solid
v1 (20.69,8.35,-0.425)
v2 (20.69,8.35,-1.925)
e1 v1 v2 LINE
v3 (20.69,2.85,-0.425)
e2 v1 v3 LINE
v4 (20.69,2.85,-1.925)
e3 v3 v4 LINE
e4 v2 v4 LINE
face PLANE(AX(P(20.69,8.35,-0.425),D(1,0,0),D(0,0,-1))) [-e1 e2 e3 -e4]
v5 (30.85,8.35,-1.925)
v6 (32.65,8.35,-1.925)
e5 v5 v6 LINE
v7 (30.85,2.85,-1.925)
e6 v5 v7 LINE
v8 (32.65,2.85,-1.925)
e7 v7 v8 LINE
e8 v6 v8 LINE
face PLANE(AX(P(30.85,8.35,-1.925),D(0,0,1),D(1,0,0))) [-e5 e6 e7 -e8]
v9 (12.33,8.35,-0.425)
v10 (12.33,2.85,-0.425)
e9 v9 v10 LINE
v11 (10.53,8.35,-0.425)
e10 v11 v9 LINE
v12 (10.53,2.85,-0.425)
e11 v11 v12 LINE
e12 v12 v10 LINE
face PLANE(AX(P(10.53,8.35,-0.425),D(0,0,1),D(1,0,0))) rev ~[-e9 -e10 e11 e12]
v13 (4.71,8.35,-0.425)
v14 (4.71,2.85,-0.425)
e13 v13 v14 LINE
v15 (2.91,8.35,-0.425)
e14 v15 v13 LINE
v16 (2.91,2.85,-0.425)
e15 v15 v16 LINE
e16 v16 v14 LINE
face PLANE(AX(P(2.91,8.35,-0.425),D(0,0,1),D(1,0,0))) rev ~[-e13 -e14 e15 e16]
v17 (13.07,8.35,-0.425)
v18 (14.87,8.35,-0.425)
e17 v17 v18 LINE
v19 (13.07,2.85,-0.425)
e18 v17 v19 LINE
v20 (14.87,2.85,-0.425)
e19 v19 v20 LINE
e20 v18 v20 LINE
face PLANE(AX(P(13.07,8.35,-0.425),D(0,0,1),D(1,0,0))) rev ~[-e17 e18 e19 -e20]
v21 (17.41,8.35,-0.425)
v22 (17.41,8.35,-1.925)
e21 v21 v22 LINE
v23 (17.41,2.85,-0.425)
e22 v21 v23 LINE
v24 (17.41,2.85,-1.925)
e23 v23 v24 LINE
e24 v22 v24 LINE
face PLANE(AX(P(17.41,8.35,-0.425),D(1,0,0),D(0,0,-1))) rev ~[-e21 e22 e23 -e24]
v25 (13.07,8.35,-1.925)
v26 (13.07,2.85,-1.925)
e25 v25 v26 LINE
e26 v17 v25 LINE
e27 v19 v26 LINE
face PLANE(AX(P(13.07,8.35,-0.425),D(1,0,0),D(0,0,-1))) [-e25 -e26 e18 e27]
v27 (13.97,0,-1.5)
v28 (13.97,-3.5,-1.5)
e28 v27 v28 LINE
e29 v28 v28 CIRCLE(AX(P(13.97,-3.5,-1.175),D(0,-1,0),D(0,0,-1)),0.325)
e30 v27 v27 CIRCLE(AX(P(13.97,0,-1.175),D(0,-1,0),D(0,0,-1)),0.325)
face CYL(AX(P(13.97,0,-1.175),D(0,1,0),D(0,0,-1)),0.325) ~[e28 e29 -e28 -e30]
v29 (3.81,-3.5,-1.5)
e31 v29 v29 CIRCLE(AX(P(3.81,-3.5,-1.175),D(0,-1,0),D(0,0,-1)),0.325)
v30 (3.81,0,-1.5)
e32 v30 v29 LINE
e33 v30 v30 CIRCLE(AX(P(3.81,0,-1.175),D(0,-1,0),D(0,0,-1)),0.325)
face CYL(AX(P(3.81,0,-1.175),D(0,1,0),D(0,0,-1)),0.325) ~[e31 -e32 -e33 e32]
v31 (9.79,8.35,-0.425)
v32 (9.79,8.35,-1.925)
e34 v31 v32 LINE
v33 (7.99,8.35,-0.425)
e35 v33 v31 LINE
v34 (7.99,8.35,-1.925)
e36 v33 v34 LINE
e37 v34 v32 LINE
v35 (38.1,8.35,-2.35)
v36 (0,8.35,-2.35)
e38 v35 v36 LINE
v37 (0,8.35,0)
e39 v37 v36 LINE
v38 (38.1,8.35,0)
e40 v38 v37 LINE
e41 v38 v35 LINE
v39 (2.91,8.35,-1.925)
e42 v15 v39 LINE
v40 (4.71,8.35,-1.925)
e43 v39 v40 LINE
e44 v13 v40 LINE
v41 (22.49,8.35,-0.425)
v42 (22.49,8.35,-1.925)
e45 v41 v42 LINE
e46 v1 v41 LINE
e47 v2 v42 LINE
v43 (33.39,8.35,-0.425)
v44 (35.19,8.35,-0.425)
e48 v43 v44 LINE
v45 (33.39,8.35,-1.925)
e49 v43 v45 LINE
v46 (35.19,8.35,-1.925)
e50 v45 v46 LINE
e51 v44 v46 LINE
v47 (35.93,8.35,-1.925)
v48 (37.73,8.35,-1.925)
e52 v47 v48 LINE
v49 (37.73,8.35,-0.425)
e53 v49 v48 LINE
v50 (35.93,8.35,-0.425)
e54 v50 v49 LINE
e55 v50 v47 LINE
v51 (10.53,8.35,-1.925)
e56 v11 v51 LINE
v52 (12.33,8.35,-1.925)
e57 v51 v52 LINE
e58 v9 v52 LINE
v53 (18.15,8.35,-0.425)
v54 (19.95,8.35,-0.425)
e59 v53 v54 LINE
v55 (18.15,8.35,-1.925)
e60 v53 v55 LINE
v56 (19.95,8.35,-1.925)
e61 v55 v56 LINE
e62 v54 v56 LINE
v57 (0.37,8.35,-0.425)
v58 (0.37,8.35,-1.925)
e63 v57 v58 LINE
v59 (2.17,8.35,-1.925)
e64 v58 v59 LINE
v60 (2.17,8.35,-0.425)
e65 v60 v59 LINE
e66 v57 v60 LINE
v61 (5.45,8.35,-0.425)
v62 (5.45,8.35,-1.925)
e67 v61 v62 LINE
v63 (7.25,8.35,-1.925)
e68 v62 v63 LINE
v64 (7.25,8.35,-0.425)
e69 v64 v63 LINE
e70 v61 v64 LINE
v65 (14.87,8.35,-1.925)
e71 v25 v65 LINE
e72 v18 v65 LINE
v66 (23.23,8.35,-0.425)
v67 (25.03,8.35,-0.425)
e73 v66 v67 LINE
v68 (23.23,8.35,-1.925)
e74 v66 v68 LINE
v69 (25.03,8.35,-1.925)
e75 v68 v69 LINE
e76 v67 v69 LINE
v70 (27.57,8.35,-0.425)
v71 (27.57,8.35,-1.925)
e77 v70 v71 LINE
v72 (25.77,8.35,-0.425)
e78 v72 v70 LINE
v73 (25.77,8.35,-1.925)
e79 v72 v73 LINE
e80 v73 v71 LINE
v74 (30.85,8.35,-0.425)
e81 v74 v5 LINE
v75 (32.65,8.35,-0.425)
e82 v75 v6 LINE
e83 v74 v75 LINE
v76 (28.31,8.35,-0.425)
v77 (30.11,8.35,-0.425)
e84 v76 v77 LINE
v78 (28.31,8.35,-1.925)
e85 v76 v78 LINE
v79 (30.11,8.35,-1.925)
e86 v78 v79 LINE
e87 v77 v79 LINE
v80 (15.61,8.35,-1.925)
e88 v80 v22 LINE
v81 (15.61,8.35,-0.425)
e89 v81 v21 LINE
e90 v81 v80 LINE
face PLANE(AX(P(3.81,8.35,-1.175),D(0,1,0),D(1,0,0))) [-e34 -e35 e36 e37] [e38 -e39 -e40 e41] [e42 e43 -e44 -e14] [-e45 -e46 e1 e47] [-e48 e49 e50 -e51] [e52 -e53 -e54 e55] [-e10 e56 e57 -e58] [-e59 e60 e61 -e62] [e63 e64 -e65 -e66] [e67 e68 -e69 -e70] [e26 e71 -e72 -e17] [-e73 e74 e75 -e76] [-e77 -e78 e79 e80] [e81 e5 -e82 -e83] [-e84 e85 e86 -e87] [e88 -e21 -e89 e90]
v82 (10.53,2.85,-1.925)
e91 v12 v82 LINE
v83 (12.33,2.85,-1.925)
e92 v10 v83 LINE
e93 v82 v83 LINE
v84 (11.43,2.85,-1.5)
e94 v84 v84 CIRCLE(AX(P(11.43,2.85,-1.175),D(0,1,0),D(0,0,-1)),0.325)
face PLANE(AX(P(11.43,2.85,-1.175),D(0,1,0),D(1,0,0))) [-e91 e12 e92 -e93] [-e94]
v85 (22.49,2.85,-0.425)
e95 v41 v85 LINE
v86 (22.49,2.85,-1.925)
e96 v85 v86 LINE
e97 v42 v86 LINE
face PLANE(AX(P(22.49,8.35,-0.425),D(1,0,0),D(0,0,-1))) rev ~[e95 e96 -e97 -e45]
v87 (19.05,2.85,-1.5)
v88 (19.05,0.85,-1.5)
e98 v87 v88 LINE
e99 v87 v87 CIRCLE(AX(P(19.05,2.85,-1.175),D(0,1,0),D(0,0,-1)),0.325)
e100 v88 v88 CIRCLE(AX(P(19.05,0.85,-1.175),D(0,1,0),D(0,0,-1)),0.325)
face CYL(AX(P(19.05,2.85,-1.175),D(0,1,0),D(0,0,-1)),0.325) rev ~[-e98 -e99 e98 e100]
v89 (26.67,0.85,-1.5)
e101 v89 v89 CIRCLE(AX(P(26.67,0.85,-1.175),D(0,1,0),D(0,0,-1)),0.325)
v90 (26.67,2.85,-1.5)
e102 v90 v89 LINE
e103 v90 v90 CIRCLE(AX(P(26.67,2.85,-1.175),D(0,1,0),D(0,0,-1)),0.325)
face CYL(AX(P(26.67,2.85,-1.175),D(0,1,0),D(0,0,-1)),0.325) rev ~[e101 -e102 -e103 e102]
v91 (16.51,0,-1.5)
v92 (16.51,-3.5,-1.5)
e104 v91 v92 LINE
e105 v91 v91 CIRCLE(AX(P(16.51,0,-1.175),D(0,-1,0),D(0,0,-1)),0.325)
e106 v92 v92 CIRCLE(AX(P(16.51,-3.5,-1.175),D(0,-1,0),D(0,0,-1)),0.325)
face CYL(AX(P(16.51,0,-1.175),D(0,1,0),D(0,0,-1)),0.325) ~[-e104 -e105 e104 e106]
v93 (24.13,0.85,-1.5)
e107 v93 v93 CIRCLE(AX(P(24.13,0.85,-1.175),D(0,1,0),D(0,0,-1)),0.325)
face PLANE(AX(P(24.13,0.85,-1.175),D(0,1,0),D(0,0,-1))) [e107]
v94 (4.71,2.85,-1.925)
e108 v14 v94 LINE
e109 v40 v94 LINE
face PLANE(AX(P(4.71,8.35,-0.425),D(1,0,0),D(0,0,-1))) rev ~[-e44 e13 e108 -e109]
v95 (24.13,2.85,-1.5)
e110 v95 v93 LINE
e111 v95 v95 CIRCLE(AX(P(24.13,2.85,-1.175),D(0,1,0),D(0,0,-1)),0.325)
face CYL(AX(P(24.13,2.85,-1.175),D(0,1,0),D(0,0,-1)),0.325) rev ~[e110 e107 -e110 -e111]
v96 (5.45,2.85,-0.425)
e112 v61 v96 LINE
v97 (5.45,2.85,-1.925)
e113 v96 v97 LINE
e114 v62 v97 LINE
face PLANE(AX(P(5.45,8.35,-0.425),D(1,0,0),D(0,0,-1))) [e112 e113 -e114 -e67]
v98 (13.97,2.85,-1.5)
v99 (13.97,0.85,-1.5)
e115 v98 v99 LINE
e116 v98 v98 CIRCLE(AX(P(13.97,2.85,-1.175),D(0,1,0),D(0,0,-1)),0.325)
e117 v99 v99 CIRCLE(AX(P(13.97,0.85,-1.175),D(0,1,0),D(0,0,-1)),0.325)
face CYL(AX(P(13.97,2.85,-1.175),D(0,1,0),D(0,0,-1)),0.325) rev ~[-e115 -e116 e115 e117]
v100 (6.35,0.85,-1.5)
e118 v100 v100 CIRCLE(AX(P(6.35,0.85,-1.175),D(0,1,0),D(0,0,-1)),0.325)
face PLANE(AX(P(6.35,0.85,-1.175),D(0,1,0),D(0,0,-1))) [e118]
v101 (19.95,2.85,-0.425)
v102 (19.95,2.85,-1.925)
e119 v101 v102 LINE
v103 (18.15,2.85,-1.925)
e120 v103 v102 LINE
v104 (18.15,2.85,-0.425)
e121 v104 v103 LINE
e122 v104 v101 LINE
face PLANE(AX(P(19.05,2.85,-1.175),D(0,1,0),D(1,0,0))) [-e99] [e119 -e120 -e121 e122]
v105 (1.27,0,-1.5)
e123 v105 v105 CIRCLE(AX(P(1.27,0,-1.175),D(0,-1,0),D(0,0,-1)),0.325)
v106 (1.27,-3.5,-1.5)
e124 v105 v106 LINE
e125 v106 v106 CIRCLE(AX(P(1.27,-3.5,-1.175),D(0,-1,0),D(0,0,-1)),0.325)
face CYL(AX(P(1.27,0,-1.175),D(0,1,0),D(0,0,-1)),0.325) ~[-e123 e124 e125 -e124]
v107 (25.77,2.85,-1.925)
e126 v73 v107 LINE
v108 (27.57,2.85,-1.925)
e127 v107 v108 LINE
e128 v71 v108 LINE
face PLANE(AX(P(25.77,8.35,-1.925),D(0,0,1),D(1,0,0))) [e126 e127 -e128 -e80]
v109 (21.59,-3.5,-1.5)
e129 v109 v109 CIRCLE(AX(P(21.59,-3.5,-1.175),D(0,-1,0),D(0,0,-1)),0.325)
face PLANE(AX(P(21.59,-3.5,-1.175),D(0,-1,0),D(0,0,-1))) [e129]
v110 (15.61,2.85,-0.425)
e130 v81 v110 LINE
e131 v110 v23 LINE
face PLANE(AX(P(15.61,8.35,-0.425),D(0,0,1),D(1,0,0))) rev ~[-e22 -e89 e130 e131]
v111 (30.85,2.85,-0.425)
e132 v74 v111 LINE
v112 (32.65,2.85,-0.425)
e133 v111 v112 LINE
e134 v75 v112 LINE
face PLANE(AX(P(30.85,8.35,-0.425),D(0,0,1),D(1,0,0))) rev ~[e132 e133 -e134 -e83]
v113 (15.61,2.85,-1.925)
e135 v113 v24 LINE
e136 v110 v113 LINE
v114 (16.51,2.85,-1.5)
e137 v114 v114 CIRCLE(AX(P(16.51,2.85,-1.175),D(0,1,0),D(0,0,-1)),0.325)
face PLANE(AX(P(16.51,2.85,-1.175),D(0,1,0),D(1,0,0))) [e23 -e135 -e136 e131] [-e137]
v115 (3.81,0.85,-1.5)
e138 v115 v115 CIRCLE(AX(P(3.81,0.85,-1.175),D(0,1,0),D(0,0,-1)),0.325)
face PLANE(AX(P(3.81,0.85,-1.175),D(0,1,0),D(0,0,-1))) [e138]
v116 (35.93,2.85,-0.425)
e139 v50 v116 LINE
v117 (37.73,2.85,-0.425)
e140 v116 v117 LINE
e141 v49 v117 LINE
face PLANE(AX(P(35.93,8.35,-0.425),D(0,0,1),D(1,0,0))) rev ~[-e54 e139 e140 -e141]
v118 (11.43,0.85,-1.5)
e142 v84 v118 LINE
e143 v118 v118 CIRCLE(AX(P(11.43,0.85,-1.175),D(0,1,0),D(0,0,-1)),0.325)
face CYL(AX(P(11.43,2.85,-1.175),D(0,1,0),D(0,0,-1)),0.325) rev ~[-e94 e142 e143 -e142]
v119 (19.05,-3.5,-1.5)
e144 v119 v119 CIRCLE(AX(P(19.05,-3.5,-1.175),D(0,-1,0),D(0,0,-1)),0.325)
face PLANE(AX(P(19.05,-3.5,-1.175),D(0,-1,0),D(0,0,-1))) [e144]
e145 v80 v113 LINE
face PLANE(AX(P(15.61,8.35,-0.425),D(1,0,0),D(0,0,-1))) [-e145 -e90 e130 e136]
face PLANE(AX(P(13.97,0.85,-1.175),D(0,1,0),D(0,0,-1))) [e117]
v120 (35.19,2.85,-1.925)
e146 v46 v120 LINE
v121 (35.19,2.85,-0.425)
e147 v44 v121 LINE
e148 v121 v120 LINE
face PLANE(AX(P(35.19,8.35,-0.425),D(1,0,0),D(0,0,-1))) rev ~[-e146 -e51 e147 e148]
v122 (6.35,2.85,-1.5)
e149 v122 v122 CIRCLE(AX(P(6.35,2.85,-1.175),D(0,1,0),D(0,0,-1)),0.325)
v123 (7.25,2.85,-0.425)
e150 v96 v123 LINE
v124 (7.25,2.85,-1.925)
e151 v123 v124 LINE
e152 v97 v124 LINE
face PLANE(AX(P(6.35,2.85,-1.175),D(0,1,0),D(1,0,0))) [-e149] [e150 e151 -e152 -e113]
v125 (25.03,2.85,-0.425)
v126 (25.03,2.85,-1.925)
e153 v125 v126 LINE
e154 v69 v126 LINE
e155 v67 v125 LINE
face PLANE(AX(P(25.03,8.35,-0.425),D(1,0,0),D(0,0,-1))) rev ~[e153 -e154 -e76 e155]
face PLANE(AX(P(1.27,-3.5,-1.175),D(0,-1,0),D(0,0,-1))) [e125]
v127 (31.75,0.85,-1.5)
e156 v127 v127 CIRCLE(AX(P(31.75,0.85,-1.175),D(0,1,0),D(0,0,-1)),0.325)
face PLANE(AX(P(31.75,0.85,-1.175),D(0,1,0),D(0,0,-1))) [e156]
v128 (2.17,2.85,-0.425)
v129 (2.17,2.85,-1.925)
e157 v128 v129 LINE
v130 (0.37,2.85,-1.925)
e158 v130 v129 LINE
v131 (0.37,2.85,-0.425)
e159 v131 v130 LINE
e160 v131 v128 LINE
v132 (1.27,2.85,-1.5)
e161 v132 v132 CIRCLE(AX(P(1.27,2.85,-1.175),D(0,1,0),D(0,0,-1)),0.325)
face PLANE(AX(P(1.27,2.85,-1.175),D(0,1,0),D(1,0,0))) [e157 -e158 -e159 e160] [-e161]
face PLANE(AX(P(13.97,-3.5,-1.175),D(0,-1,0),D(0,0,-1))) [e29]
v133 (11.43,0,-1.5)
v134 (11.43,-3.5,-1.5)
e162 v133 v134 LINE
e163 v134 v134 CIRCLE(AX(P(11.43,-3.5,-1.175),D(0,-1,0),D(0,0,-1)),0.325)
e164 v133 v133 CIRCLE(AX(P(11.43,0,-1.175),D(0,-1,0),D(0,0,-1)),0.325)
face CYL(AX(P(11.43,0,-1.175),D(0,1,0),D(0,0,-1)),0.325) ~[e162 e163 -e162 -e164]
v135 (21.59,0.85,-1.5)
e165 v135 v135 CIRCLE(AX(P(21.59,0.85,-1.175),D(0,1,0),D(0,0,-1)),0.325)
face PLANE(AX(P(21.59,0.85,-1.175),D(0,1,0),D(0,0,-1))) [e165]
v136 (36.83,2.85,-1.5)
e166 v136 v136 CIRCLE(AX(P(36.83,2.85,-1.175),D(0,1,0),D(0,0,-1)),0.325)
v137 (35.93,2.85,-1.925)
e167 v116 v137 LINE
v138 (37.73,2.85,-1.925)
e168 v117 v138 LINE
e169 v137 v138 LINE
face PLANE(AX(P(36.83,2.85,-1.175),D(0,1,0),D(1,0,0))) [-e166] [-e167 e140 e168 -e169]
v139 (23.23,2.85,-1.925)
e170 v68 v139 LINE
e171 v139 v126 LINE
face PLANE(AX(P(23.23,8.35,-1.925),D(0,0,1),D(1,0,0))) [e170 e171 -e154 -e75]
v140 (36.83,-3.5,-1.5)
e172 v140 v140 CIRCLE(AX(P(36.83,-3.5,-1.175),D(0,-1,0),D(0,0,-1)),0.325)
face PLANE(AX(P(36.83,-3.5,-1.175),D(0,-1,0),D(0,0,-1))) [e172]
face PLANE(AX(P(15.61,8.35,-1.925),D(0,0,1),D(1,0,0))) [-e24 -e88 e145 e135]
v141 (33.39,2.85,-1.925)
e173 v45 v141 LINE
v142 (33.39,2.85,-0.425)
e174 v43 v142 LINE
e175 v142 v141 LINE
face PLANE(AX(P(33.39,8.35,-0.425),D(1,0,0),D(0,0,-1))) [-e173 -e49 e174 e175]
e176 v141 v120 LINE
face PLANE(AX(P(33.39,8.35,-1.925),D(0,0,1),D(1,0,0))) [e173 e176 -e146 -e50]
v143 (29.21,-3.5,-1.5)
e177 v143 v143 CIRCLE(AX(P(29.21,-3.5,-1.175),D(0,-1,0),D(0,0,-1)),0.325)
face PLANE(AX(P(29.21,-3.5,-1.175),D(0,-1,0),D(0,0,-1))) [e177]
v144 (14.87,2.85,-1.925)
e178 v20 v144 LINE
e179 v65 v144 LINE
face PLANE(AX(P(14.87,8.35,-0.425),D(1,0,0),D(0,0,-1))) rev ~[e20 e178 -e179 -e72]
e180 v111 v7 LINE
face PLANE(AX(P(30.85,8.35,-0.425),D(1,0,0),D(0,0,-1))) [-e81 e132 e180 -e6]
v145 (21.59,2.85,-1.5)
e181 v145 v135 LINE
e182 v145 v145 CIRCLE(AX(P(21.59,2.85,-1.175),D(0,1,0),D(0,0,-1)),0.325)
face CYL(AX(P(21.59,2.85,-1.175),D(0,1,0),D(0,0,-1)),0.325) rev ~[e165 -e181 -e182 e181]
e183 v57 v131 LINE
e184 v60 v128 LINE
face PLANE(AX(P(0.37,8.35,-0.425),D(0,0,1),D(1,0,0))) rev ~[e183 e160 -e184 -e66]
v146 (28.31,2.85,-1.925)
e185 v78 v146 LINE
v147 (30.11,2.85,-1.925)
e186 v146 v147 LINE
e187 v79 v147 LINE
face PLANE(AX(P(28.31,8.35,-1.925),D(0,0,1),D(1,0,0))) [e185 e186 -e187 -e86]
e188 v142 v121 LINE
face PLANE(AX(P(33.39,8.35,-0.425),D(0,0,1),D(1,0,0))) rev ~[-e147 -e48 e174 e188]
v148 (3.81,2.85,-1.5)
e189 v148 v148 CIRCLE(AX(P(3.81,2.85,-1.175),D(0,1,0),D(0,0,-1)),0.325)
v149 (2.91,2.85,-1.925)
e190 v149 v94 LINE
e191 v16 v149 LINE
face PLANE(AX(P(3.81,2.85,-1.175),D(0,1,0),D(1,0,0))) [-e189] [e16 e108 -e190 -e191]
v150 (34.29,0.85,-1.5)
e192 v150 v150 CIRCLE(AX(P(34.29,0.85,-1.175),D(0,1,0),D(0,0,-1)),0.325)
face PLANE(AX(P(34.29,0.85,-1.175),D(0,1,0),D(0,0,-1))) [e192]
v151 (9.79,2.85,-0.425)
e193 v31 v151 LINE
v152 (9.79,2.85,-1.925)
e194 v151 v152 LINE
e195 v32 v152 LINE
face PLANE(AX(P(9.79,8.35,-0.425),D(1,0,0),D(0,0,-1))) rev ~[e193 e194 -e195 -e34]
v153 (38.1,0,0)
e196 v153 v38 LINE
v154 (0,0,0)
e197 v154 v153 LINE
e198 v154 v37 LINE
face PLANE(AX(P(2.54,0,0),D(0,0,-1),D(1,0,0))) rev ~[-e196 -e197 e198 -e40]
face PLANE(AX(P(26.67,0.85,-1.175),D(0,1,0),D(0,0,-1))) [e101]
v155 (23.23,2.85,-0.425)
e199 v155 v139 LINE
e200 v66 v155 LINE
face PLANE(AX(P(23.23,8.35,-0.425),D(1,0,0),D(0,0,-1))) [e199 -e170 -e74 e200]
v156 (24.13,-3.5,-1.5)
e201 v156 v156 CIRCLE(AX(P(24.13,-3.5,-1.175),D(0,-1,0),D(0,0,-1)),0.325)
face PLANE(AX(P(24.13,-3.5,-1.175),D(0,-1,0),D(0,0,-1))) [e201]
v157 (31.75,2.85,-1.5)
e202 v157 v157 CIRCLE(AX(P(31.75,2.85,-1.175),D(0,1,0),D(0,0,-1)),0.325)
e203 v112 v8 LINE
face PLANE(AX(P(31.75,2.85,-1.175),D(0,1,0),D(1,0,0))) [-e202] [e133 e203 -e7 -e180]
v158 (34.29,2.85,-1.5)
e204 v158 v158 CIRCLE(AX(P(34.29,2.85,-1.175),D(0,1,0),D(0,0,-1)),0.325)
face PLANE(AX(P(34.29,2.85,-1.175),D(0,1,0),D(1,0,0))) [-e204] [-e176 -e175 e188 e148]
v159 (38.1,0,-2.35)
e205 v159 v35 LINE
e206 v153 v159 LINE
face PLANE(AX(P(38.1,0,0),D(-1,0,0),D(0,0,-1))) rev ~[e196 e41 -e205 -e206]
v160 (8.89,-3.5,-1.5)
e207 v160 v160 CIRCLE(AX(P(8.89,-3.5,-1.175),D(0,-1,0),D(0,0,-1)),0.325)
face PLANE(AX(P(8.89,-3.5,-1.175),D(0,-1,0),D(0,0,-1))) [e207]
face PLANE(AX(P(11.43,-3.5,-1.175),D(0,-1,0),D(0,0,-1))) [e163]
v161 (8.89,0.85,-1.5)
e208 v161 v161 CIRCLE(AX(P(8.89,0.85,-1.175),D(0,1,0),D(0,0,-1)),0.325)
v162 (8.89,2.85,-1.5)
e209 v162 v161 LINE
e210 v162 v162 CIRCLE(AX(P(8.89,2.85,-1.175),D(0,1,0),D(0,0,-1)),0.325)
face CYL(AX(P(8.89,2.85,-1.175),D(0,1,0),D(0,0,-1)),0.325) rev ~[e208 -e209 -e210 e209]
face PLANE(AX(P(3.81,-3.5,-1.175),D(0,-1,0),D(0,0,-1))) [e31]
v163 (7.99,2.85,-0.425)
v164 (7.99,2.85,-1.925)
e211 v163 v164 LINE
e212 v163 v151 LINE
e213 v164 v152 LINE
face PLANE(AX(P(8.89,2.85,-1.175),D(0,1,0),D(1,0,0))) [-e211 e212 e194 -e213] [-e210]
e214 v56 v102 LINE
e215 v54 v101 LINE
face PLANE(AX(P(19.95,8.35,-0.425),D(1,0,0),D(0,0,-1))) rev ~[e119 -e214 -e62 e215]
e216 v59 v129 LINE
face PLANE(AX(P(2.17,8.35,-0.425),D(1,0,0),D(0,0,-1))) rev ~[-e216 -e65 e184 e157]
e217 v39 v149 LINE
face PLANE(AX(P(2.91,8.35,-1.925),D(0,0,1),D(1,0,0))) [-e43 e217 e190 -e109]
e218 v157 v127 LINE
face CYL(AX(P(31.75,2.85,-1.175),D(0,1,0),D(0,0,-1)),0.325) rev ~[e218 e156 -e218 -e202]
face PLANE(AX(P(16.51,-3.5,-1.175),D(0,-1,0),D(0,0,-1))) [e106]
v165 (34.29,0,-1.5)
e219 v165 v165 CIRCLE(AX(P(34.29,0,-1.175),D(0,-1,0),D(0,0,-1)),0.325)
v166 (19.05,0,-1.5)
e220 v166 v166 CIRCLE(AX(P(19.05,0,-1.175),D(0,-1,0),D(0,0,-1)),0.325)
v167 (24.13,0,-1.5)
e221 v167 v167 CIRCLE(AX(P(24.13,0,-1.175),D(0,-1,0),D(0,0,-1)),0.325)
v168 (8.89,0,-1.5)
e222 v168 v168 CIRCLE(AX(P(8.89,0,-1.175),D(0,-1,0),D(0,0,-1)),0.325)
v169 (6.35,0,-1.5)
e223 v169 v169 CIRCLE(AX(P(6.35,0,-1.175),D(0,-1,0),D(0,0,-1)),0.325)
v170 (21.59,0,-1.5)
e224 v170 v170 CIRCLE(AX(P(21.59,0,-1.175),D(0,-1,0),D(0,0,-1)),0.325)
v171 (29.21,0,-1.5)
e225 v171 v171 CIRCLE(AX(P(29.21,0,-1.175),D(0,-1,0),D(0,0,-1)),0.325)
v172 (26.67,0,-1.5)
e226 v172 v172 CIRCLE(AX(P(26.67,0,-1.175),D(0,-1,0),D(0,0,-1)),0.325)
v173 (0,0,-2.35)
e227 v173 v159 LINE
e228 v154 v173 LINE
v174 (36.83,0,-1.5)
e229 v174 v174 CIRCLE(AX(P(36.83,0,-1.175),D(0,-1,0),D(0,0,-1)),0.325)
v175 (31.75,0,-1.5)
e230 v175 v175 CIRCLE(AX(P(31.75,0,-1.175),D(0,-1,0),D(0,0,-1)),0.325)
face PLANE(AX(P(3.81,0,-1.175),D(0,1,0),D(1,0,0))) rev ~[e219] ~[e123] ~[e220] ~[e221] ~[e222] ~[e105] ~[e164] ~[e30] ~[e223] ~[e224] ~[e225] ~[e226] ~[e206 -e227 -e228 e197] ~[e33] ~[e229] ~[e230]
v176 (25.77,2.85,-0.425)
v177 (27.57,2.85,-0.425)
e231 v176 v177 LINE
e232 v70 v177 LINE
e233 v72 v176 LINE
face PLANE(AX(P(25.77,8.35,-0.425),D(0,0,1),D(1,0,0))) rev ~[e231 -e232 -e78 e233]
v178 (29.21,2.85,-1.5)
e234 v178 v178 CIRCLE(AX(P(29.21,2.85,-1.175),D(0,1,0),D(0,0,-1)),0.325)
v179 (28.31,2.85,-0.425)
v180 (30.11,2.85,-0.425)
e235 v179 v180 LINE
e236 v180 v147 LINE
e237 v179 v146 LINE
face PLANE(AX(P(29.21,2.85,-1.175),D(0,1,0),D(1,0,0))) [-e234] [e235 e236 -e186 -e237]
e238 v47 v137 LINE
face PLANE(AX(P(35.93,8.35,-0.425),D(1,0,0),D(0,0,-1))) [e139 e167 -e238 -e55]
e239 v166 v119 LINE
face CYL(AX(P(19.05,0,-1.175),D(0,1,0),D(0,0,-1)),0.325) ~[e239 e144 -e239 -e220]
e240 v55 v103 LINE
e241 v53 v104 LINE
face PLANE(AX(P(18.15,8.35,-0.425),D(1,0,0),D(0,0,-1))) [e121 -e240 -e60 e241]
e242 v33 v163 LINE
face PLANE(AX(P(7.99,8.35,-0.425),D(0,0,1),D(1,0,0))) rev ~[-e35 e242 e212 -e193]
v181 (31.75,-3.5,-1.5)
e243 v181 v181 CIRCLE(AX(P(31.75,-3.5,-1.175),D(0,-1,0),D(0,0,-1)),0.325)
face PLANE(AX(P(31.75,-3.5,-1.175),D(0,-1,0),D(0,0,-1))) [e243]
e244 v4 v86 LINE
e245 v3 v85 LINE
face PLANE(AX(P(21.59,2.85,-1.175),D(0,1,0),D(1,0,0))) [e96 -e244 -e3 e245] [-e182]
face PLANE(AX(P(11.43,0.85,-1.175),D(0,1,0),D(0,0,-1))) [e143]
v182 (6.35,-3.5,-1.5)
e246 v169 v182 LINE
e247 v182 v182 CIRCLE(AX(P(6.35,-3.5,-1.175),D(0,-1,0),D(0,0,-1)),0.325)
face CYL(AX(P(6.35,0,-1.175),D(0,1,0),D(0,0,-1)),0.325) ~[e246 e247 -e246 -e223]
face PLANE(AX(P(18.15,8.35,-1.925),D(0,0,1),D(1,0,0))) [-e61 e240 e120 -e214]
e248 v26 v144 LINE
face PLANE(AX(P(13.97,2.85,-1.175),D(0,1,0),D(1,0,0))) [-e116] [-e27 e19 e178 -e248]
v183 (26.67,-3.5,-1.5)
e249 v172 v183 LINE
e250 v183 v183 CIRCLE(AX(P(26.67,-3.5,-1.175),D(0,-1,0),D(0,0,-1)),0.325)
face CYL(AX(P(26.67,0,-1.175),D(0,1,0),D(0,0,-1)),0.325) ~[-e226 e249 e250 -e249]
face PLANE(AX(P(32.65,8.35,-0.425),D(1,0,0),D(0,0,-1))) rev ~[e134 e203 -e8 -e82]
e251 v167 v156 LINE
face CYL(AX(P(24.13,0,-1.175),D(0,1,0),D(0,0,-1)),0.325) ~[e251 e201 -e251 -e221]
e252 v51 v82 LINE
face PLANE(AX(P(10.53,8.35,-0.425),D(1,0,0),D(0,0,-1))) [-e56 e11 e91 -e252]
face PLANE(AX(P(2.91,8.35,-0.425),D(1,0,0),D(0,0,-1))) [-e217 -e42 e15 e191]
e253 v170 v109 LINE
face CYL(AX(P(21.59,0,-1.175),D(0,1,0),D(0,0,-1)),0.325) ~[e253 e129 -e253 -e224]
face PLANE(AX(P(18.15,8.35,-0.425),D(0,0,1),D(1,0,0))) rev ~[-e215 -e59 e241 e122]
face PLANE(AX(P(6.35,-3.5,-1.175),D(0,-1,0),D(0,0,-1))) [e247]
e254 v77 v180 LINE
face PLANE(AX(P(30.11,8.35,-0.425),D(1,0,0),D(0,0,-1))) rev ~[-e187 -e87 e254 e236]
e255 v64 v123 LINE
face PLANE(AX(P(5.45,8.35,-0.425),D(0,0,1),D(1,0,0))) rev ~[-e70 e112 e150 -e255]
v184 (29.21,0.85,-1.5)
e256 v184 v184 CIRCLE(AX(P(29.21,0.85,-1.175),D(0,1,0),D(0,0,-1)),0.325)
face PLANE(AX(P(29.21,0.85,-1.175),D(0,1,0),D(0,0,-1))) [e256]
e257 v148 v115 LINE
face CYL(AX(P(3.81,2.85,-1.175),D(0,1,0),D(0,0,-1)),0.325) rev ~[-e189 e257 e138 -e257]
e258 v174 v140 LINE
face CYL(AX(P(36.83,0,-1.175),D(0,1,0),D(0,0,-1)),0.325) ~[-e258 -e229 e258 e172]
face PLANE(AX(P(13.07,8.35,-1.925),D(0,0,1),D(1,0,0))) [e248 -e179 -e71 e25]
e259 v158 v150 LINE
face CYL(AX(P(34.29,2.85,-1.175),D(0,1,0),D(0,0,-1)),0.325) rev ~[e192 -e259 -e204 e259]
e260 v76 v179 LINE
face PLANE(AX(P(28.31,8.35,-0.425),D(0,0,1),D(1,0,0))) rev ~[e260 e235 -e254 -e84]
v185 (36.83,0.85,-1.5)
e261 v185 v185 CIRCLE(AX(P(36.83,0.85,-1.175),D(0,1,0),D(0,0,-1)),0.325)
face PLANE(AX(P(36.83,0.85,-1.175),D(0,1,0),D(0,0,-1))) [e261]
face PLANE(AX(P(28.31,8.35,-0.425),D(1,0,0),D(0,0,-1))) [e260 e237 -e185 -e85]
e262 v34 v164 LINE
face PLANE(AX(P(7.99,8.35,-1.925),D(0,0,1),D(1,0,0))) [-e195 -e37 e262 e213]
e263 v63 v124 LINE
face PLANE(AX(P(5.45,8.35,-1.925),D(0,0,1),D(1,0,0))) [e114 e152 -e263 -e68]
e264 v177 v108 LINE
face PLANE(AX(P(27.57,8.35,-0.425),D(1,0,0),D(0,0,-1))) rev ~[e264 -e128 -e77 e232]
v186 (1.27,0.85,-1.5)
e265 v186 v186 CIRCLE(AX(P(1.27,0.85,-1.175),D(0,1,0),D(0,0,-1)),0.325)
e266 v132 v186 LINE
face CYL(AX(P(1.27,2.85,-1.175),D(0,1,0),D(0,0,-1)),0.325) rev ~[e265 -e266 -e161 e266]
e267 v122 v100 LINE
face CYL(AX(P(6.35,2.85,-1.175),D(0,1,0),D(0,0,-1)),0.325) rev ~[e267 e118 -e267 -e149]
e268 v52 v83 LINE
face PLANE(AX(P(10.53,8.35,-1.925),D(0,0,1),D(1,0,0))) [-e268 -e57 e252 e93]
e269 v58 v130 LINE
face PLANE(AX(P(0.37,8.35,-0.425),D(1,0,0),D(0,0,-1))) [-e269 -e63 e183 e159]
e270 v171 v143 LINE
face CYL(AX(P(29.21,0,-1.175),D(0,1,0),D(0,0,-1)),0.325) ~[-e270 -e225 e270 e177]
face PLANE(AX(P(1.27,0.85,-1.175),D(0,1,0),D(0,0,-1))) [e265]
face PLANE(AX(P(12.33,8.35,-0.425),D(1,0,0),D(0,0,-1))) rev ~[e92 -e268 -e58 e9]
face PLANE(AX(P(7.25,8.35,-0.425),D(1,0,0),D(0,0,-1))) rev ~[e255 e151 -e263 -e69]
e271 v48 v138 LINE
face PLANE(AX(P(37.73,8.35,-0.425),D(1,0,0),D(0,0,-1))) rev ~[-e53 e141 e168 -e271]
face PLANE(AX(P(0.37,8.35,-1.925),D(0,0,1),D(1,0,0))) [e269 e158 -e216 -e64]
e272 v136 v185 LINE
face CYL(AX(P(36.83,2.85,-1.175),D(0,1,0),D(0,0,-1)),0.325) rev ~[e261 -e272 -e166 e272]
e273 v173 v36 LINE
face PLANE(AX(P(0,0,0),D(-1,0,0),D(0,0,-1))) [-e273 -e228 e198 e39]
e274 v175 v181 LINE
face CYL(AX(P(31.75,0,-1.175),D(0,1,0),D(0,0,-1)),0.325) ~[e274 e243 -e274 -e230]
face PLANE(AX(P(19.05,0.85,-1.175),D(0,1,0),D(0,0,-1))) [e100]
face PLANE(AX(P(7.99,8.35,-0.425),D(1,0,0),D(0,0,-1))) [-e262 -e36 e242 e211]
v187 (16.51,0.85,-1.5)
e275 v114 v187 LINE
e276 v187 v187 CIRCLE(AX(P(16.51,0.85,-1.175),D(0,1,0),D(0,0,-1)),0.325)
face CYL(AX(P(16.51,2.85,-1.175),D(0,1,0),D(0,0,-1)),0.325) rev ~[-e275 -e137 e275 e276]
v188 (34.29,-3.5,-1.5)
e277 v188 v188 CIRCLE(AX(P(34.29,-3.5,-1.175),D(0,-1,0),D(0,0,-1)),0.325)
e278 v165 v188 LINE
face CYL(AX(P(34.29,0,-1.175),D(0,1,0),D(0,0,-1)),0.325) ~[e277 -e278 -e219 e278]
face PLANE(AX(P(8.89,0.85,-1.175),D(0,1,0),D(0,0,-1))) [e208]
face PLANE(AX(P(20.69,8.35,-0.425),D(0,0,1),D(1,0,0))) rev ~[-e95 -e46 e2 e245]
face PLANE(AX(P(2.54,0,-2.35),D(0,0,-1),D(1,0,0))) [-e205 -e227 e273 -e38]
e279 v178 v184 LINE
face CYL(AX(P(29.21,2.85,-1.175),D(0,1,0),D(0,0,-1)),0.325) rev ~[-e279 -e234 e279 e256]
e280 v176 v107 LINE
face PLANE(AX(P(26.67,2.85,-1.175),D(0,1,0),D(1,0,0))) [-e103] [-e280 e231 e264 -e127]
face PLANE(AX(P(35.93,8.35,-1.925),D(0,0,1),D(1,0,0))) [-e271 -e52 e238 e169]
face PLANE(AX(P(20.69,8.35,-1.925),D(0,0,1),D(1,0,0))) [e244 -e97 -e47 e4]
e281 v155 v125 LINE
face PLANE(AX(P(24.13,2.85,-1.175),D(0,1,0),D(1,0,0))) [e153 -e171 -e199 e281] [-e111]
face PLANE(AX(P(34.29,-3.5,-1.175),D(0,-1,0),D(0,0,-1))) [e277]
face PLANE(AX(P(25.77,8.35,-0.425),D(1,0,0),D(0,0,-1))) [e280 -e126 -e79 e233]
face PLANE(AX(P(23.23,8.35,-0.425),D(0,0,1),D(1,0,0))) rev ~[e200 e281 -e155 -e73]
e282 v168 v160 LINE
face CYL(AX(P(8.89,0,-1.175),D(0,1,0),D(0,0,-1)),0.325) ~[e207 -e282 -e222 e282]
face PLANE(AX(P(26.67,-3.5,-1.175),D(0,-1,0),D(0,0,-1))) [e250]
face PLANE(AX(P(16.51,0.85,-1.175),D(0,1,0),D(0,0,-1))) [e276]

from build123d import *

# Parameters (mm, degrees)
ESQUISSE1_W                = 2.54
ESQUISSE1_H                = 2.35
BOSS_EXTRU_1_DEPTH         = 8.35
ESQUISSE3_W                = 1.8
ESQUISSE3_H                = 1.5
ENL_V_MAT_EXTRU_1_DEPTH    = 5.5
ESQUISSE2_R                = 0.325
BOSS_EXTRU_2_DEPTH         = 3.5
ESQUISSE4_R                = 0.325
ENL_V_MAT_EXTRU_3_DEPTH    = 2
R_P_TITION_LIN_AIRE1_COUNT = 15
R_P_TITION_LIN_AIRE1_PITCH = 2.54


with BuildPart() as part:
    # Esquisse1 → Boss.-Extru.1 (new body)
    with BuildSketch(Plane(origin=(0, 0, 0), x_dir=(1, 0, 0), z_dir=(0, 1, 0))):
        with Locations((1.27, 1.175)):
            Rectangle(ESQUISSE1_W, ESQUISSE1_H)
    boss_extru_1 = extrude(amount=BOSS_EXTRU_1_DEPTH)

    # Esquisse3 → Enlèv. mat.-Extru.1 (cut)
    with BuildSketch(Plane(origin=(0, 8.35, 0), x_dir=(1, 0, 0), z_dir=(0, 1, 0))):
        with Locations((1.27, 1.175)):
            Rectangle(ESQUISSE3_W, ESQUISSE3_H)
    enl_v_mat_extru_1 = extrude(amount=-ENL_V_MAT_EXTRU_1_DEPTH, mode=Mode.SUBTRACT)

    # Esquisse2 → Boss.-Extru.2 (add)
    with BuildSketch(Plane.XZ):
        with Locations(Location((1.27, -1.175, 0), (0, 0, 270))):
            Circle(ESQUISSE2_R)
    boss_extru_2 = extrude(amount=BOSS_EXTRU_2_DEPTH)

    # Esquisse4 → Enlèv. mat.-Extru.3 (cut)
    with BuildSketch(Plane(origin=(0, 2.85, 0), x_dir=(1, 0, 0), z_dir=(0, 1, 0))):
        with Locations(Location((1.27, 1.175, 0), (0, 0, 90))):
            Circle(ESQUISSE4_R)
    enl_v_mat_extru_3 = extrude(amount=-ENL_V_MAT_EXTRU_3_DEPTH, mode=Mode.SUBTRACT)

    # Répétition linéaire1: Boss.-Extru.1, Enlèv. mat.-Extru.1, Boss.-Extru.2, Enlèv. mat.-Extru.3 ×15
    with Locations(*[(i * R_P_TITION_LIN_AIRE1_PITCH, 0, 0) for i in range(1, R_P_TITION_LIN_AIRE1_COUNT)]):
        add(boss_extru_1)
        add(enl_v_mat_extru_1, mode=Mode.SUBTRACT)
        add(boss_extru_2)
        add(enl_v_mat_extru_3, mode=Mode.SUBTRACT)


solid = part.part
